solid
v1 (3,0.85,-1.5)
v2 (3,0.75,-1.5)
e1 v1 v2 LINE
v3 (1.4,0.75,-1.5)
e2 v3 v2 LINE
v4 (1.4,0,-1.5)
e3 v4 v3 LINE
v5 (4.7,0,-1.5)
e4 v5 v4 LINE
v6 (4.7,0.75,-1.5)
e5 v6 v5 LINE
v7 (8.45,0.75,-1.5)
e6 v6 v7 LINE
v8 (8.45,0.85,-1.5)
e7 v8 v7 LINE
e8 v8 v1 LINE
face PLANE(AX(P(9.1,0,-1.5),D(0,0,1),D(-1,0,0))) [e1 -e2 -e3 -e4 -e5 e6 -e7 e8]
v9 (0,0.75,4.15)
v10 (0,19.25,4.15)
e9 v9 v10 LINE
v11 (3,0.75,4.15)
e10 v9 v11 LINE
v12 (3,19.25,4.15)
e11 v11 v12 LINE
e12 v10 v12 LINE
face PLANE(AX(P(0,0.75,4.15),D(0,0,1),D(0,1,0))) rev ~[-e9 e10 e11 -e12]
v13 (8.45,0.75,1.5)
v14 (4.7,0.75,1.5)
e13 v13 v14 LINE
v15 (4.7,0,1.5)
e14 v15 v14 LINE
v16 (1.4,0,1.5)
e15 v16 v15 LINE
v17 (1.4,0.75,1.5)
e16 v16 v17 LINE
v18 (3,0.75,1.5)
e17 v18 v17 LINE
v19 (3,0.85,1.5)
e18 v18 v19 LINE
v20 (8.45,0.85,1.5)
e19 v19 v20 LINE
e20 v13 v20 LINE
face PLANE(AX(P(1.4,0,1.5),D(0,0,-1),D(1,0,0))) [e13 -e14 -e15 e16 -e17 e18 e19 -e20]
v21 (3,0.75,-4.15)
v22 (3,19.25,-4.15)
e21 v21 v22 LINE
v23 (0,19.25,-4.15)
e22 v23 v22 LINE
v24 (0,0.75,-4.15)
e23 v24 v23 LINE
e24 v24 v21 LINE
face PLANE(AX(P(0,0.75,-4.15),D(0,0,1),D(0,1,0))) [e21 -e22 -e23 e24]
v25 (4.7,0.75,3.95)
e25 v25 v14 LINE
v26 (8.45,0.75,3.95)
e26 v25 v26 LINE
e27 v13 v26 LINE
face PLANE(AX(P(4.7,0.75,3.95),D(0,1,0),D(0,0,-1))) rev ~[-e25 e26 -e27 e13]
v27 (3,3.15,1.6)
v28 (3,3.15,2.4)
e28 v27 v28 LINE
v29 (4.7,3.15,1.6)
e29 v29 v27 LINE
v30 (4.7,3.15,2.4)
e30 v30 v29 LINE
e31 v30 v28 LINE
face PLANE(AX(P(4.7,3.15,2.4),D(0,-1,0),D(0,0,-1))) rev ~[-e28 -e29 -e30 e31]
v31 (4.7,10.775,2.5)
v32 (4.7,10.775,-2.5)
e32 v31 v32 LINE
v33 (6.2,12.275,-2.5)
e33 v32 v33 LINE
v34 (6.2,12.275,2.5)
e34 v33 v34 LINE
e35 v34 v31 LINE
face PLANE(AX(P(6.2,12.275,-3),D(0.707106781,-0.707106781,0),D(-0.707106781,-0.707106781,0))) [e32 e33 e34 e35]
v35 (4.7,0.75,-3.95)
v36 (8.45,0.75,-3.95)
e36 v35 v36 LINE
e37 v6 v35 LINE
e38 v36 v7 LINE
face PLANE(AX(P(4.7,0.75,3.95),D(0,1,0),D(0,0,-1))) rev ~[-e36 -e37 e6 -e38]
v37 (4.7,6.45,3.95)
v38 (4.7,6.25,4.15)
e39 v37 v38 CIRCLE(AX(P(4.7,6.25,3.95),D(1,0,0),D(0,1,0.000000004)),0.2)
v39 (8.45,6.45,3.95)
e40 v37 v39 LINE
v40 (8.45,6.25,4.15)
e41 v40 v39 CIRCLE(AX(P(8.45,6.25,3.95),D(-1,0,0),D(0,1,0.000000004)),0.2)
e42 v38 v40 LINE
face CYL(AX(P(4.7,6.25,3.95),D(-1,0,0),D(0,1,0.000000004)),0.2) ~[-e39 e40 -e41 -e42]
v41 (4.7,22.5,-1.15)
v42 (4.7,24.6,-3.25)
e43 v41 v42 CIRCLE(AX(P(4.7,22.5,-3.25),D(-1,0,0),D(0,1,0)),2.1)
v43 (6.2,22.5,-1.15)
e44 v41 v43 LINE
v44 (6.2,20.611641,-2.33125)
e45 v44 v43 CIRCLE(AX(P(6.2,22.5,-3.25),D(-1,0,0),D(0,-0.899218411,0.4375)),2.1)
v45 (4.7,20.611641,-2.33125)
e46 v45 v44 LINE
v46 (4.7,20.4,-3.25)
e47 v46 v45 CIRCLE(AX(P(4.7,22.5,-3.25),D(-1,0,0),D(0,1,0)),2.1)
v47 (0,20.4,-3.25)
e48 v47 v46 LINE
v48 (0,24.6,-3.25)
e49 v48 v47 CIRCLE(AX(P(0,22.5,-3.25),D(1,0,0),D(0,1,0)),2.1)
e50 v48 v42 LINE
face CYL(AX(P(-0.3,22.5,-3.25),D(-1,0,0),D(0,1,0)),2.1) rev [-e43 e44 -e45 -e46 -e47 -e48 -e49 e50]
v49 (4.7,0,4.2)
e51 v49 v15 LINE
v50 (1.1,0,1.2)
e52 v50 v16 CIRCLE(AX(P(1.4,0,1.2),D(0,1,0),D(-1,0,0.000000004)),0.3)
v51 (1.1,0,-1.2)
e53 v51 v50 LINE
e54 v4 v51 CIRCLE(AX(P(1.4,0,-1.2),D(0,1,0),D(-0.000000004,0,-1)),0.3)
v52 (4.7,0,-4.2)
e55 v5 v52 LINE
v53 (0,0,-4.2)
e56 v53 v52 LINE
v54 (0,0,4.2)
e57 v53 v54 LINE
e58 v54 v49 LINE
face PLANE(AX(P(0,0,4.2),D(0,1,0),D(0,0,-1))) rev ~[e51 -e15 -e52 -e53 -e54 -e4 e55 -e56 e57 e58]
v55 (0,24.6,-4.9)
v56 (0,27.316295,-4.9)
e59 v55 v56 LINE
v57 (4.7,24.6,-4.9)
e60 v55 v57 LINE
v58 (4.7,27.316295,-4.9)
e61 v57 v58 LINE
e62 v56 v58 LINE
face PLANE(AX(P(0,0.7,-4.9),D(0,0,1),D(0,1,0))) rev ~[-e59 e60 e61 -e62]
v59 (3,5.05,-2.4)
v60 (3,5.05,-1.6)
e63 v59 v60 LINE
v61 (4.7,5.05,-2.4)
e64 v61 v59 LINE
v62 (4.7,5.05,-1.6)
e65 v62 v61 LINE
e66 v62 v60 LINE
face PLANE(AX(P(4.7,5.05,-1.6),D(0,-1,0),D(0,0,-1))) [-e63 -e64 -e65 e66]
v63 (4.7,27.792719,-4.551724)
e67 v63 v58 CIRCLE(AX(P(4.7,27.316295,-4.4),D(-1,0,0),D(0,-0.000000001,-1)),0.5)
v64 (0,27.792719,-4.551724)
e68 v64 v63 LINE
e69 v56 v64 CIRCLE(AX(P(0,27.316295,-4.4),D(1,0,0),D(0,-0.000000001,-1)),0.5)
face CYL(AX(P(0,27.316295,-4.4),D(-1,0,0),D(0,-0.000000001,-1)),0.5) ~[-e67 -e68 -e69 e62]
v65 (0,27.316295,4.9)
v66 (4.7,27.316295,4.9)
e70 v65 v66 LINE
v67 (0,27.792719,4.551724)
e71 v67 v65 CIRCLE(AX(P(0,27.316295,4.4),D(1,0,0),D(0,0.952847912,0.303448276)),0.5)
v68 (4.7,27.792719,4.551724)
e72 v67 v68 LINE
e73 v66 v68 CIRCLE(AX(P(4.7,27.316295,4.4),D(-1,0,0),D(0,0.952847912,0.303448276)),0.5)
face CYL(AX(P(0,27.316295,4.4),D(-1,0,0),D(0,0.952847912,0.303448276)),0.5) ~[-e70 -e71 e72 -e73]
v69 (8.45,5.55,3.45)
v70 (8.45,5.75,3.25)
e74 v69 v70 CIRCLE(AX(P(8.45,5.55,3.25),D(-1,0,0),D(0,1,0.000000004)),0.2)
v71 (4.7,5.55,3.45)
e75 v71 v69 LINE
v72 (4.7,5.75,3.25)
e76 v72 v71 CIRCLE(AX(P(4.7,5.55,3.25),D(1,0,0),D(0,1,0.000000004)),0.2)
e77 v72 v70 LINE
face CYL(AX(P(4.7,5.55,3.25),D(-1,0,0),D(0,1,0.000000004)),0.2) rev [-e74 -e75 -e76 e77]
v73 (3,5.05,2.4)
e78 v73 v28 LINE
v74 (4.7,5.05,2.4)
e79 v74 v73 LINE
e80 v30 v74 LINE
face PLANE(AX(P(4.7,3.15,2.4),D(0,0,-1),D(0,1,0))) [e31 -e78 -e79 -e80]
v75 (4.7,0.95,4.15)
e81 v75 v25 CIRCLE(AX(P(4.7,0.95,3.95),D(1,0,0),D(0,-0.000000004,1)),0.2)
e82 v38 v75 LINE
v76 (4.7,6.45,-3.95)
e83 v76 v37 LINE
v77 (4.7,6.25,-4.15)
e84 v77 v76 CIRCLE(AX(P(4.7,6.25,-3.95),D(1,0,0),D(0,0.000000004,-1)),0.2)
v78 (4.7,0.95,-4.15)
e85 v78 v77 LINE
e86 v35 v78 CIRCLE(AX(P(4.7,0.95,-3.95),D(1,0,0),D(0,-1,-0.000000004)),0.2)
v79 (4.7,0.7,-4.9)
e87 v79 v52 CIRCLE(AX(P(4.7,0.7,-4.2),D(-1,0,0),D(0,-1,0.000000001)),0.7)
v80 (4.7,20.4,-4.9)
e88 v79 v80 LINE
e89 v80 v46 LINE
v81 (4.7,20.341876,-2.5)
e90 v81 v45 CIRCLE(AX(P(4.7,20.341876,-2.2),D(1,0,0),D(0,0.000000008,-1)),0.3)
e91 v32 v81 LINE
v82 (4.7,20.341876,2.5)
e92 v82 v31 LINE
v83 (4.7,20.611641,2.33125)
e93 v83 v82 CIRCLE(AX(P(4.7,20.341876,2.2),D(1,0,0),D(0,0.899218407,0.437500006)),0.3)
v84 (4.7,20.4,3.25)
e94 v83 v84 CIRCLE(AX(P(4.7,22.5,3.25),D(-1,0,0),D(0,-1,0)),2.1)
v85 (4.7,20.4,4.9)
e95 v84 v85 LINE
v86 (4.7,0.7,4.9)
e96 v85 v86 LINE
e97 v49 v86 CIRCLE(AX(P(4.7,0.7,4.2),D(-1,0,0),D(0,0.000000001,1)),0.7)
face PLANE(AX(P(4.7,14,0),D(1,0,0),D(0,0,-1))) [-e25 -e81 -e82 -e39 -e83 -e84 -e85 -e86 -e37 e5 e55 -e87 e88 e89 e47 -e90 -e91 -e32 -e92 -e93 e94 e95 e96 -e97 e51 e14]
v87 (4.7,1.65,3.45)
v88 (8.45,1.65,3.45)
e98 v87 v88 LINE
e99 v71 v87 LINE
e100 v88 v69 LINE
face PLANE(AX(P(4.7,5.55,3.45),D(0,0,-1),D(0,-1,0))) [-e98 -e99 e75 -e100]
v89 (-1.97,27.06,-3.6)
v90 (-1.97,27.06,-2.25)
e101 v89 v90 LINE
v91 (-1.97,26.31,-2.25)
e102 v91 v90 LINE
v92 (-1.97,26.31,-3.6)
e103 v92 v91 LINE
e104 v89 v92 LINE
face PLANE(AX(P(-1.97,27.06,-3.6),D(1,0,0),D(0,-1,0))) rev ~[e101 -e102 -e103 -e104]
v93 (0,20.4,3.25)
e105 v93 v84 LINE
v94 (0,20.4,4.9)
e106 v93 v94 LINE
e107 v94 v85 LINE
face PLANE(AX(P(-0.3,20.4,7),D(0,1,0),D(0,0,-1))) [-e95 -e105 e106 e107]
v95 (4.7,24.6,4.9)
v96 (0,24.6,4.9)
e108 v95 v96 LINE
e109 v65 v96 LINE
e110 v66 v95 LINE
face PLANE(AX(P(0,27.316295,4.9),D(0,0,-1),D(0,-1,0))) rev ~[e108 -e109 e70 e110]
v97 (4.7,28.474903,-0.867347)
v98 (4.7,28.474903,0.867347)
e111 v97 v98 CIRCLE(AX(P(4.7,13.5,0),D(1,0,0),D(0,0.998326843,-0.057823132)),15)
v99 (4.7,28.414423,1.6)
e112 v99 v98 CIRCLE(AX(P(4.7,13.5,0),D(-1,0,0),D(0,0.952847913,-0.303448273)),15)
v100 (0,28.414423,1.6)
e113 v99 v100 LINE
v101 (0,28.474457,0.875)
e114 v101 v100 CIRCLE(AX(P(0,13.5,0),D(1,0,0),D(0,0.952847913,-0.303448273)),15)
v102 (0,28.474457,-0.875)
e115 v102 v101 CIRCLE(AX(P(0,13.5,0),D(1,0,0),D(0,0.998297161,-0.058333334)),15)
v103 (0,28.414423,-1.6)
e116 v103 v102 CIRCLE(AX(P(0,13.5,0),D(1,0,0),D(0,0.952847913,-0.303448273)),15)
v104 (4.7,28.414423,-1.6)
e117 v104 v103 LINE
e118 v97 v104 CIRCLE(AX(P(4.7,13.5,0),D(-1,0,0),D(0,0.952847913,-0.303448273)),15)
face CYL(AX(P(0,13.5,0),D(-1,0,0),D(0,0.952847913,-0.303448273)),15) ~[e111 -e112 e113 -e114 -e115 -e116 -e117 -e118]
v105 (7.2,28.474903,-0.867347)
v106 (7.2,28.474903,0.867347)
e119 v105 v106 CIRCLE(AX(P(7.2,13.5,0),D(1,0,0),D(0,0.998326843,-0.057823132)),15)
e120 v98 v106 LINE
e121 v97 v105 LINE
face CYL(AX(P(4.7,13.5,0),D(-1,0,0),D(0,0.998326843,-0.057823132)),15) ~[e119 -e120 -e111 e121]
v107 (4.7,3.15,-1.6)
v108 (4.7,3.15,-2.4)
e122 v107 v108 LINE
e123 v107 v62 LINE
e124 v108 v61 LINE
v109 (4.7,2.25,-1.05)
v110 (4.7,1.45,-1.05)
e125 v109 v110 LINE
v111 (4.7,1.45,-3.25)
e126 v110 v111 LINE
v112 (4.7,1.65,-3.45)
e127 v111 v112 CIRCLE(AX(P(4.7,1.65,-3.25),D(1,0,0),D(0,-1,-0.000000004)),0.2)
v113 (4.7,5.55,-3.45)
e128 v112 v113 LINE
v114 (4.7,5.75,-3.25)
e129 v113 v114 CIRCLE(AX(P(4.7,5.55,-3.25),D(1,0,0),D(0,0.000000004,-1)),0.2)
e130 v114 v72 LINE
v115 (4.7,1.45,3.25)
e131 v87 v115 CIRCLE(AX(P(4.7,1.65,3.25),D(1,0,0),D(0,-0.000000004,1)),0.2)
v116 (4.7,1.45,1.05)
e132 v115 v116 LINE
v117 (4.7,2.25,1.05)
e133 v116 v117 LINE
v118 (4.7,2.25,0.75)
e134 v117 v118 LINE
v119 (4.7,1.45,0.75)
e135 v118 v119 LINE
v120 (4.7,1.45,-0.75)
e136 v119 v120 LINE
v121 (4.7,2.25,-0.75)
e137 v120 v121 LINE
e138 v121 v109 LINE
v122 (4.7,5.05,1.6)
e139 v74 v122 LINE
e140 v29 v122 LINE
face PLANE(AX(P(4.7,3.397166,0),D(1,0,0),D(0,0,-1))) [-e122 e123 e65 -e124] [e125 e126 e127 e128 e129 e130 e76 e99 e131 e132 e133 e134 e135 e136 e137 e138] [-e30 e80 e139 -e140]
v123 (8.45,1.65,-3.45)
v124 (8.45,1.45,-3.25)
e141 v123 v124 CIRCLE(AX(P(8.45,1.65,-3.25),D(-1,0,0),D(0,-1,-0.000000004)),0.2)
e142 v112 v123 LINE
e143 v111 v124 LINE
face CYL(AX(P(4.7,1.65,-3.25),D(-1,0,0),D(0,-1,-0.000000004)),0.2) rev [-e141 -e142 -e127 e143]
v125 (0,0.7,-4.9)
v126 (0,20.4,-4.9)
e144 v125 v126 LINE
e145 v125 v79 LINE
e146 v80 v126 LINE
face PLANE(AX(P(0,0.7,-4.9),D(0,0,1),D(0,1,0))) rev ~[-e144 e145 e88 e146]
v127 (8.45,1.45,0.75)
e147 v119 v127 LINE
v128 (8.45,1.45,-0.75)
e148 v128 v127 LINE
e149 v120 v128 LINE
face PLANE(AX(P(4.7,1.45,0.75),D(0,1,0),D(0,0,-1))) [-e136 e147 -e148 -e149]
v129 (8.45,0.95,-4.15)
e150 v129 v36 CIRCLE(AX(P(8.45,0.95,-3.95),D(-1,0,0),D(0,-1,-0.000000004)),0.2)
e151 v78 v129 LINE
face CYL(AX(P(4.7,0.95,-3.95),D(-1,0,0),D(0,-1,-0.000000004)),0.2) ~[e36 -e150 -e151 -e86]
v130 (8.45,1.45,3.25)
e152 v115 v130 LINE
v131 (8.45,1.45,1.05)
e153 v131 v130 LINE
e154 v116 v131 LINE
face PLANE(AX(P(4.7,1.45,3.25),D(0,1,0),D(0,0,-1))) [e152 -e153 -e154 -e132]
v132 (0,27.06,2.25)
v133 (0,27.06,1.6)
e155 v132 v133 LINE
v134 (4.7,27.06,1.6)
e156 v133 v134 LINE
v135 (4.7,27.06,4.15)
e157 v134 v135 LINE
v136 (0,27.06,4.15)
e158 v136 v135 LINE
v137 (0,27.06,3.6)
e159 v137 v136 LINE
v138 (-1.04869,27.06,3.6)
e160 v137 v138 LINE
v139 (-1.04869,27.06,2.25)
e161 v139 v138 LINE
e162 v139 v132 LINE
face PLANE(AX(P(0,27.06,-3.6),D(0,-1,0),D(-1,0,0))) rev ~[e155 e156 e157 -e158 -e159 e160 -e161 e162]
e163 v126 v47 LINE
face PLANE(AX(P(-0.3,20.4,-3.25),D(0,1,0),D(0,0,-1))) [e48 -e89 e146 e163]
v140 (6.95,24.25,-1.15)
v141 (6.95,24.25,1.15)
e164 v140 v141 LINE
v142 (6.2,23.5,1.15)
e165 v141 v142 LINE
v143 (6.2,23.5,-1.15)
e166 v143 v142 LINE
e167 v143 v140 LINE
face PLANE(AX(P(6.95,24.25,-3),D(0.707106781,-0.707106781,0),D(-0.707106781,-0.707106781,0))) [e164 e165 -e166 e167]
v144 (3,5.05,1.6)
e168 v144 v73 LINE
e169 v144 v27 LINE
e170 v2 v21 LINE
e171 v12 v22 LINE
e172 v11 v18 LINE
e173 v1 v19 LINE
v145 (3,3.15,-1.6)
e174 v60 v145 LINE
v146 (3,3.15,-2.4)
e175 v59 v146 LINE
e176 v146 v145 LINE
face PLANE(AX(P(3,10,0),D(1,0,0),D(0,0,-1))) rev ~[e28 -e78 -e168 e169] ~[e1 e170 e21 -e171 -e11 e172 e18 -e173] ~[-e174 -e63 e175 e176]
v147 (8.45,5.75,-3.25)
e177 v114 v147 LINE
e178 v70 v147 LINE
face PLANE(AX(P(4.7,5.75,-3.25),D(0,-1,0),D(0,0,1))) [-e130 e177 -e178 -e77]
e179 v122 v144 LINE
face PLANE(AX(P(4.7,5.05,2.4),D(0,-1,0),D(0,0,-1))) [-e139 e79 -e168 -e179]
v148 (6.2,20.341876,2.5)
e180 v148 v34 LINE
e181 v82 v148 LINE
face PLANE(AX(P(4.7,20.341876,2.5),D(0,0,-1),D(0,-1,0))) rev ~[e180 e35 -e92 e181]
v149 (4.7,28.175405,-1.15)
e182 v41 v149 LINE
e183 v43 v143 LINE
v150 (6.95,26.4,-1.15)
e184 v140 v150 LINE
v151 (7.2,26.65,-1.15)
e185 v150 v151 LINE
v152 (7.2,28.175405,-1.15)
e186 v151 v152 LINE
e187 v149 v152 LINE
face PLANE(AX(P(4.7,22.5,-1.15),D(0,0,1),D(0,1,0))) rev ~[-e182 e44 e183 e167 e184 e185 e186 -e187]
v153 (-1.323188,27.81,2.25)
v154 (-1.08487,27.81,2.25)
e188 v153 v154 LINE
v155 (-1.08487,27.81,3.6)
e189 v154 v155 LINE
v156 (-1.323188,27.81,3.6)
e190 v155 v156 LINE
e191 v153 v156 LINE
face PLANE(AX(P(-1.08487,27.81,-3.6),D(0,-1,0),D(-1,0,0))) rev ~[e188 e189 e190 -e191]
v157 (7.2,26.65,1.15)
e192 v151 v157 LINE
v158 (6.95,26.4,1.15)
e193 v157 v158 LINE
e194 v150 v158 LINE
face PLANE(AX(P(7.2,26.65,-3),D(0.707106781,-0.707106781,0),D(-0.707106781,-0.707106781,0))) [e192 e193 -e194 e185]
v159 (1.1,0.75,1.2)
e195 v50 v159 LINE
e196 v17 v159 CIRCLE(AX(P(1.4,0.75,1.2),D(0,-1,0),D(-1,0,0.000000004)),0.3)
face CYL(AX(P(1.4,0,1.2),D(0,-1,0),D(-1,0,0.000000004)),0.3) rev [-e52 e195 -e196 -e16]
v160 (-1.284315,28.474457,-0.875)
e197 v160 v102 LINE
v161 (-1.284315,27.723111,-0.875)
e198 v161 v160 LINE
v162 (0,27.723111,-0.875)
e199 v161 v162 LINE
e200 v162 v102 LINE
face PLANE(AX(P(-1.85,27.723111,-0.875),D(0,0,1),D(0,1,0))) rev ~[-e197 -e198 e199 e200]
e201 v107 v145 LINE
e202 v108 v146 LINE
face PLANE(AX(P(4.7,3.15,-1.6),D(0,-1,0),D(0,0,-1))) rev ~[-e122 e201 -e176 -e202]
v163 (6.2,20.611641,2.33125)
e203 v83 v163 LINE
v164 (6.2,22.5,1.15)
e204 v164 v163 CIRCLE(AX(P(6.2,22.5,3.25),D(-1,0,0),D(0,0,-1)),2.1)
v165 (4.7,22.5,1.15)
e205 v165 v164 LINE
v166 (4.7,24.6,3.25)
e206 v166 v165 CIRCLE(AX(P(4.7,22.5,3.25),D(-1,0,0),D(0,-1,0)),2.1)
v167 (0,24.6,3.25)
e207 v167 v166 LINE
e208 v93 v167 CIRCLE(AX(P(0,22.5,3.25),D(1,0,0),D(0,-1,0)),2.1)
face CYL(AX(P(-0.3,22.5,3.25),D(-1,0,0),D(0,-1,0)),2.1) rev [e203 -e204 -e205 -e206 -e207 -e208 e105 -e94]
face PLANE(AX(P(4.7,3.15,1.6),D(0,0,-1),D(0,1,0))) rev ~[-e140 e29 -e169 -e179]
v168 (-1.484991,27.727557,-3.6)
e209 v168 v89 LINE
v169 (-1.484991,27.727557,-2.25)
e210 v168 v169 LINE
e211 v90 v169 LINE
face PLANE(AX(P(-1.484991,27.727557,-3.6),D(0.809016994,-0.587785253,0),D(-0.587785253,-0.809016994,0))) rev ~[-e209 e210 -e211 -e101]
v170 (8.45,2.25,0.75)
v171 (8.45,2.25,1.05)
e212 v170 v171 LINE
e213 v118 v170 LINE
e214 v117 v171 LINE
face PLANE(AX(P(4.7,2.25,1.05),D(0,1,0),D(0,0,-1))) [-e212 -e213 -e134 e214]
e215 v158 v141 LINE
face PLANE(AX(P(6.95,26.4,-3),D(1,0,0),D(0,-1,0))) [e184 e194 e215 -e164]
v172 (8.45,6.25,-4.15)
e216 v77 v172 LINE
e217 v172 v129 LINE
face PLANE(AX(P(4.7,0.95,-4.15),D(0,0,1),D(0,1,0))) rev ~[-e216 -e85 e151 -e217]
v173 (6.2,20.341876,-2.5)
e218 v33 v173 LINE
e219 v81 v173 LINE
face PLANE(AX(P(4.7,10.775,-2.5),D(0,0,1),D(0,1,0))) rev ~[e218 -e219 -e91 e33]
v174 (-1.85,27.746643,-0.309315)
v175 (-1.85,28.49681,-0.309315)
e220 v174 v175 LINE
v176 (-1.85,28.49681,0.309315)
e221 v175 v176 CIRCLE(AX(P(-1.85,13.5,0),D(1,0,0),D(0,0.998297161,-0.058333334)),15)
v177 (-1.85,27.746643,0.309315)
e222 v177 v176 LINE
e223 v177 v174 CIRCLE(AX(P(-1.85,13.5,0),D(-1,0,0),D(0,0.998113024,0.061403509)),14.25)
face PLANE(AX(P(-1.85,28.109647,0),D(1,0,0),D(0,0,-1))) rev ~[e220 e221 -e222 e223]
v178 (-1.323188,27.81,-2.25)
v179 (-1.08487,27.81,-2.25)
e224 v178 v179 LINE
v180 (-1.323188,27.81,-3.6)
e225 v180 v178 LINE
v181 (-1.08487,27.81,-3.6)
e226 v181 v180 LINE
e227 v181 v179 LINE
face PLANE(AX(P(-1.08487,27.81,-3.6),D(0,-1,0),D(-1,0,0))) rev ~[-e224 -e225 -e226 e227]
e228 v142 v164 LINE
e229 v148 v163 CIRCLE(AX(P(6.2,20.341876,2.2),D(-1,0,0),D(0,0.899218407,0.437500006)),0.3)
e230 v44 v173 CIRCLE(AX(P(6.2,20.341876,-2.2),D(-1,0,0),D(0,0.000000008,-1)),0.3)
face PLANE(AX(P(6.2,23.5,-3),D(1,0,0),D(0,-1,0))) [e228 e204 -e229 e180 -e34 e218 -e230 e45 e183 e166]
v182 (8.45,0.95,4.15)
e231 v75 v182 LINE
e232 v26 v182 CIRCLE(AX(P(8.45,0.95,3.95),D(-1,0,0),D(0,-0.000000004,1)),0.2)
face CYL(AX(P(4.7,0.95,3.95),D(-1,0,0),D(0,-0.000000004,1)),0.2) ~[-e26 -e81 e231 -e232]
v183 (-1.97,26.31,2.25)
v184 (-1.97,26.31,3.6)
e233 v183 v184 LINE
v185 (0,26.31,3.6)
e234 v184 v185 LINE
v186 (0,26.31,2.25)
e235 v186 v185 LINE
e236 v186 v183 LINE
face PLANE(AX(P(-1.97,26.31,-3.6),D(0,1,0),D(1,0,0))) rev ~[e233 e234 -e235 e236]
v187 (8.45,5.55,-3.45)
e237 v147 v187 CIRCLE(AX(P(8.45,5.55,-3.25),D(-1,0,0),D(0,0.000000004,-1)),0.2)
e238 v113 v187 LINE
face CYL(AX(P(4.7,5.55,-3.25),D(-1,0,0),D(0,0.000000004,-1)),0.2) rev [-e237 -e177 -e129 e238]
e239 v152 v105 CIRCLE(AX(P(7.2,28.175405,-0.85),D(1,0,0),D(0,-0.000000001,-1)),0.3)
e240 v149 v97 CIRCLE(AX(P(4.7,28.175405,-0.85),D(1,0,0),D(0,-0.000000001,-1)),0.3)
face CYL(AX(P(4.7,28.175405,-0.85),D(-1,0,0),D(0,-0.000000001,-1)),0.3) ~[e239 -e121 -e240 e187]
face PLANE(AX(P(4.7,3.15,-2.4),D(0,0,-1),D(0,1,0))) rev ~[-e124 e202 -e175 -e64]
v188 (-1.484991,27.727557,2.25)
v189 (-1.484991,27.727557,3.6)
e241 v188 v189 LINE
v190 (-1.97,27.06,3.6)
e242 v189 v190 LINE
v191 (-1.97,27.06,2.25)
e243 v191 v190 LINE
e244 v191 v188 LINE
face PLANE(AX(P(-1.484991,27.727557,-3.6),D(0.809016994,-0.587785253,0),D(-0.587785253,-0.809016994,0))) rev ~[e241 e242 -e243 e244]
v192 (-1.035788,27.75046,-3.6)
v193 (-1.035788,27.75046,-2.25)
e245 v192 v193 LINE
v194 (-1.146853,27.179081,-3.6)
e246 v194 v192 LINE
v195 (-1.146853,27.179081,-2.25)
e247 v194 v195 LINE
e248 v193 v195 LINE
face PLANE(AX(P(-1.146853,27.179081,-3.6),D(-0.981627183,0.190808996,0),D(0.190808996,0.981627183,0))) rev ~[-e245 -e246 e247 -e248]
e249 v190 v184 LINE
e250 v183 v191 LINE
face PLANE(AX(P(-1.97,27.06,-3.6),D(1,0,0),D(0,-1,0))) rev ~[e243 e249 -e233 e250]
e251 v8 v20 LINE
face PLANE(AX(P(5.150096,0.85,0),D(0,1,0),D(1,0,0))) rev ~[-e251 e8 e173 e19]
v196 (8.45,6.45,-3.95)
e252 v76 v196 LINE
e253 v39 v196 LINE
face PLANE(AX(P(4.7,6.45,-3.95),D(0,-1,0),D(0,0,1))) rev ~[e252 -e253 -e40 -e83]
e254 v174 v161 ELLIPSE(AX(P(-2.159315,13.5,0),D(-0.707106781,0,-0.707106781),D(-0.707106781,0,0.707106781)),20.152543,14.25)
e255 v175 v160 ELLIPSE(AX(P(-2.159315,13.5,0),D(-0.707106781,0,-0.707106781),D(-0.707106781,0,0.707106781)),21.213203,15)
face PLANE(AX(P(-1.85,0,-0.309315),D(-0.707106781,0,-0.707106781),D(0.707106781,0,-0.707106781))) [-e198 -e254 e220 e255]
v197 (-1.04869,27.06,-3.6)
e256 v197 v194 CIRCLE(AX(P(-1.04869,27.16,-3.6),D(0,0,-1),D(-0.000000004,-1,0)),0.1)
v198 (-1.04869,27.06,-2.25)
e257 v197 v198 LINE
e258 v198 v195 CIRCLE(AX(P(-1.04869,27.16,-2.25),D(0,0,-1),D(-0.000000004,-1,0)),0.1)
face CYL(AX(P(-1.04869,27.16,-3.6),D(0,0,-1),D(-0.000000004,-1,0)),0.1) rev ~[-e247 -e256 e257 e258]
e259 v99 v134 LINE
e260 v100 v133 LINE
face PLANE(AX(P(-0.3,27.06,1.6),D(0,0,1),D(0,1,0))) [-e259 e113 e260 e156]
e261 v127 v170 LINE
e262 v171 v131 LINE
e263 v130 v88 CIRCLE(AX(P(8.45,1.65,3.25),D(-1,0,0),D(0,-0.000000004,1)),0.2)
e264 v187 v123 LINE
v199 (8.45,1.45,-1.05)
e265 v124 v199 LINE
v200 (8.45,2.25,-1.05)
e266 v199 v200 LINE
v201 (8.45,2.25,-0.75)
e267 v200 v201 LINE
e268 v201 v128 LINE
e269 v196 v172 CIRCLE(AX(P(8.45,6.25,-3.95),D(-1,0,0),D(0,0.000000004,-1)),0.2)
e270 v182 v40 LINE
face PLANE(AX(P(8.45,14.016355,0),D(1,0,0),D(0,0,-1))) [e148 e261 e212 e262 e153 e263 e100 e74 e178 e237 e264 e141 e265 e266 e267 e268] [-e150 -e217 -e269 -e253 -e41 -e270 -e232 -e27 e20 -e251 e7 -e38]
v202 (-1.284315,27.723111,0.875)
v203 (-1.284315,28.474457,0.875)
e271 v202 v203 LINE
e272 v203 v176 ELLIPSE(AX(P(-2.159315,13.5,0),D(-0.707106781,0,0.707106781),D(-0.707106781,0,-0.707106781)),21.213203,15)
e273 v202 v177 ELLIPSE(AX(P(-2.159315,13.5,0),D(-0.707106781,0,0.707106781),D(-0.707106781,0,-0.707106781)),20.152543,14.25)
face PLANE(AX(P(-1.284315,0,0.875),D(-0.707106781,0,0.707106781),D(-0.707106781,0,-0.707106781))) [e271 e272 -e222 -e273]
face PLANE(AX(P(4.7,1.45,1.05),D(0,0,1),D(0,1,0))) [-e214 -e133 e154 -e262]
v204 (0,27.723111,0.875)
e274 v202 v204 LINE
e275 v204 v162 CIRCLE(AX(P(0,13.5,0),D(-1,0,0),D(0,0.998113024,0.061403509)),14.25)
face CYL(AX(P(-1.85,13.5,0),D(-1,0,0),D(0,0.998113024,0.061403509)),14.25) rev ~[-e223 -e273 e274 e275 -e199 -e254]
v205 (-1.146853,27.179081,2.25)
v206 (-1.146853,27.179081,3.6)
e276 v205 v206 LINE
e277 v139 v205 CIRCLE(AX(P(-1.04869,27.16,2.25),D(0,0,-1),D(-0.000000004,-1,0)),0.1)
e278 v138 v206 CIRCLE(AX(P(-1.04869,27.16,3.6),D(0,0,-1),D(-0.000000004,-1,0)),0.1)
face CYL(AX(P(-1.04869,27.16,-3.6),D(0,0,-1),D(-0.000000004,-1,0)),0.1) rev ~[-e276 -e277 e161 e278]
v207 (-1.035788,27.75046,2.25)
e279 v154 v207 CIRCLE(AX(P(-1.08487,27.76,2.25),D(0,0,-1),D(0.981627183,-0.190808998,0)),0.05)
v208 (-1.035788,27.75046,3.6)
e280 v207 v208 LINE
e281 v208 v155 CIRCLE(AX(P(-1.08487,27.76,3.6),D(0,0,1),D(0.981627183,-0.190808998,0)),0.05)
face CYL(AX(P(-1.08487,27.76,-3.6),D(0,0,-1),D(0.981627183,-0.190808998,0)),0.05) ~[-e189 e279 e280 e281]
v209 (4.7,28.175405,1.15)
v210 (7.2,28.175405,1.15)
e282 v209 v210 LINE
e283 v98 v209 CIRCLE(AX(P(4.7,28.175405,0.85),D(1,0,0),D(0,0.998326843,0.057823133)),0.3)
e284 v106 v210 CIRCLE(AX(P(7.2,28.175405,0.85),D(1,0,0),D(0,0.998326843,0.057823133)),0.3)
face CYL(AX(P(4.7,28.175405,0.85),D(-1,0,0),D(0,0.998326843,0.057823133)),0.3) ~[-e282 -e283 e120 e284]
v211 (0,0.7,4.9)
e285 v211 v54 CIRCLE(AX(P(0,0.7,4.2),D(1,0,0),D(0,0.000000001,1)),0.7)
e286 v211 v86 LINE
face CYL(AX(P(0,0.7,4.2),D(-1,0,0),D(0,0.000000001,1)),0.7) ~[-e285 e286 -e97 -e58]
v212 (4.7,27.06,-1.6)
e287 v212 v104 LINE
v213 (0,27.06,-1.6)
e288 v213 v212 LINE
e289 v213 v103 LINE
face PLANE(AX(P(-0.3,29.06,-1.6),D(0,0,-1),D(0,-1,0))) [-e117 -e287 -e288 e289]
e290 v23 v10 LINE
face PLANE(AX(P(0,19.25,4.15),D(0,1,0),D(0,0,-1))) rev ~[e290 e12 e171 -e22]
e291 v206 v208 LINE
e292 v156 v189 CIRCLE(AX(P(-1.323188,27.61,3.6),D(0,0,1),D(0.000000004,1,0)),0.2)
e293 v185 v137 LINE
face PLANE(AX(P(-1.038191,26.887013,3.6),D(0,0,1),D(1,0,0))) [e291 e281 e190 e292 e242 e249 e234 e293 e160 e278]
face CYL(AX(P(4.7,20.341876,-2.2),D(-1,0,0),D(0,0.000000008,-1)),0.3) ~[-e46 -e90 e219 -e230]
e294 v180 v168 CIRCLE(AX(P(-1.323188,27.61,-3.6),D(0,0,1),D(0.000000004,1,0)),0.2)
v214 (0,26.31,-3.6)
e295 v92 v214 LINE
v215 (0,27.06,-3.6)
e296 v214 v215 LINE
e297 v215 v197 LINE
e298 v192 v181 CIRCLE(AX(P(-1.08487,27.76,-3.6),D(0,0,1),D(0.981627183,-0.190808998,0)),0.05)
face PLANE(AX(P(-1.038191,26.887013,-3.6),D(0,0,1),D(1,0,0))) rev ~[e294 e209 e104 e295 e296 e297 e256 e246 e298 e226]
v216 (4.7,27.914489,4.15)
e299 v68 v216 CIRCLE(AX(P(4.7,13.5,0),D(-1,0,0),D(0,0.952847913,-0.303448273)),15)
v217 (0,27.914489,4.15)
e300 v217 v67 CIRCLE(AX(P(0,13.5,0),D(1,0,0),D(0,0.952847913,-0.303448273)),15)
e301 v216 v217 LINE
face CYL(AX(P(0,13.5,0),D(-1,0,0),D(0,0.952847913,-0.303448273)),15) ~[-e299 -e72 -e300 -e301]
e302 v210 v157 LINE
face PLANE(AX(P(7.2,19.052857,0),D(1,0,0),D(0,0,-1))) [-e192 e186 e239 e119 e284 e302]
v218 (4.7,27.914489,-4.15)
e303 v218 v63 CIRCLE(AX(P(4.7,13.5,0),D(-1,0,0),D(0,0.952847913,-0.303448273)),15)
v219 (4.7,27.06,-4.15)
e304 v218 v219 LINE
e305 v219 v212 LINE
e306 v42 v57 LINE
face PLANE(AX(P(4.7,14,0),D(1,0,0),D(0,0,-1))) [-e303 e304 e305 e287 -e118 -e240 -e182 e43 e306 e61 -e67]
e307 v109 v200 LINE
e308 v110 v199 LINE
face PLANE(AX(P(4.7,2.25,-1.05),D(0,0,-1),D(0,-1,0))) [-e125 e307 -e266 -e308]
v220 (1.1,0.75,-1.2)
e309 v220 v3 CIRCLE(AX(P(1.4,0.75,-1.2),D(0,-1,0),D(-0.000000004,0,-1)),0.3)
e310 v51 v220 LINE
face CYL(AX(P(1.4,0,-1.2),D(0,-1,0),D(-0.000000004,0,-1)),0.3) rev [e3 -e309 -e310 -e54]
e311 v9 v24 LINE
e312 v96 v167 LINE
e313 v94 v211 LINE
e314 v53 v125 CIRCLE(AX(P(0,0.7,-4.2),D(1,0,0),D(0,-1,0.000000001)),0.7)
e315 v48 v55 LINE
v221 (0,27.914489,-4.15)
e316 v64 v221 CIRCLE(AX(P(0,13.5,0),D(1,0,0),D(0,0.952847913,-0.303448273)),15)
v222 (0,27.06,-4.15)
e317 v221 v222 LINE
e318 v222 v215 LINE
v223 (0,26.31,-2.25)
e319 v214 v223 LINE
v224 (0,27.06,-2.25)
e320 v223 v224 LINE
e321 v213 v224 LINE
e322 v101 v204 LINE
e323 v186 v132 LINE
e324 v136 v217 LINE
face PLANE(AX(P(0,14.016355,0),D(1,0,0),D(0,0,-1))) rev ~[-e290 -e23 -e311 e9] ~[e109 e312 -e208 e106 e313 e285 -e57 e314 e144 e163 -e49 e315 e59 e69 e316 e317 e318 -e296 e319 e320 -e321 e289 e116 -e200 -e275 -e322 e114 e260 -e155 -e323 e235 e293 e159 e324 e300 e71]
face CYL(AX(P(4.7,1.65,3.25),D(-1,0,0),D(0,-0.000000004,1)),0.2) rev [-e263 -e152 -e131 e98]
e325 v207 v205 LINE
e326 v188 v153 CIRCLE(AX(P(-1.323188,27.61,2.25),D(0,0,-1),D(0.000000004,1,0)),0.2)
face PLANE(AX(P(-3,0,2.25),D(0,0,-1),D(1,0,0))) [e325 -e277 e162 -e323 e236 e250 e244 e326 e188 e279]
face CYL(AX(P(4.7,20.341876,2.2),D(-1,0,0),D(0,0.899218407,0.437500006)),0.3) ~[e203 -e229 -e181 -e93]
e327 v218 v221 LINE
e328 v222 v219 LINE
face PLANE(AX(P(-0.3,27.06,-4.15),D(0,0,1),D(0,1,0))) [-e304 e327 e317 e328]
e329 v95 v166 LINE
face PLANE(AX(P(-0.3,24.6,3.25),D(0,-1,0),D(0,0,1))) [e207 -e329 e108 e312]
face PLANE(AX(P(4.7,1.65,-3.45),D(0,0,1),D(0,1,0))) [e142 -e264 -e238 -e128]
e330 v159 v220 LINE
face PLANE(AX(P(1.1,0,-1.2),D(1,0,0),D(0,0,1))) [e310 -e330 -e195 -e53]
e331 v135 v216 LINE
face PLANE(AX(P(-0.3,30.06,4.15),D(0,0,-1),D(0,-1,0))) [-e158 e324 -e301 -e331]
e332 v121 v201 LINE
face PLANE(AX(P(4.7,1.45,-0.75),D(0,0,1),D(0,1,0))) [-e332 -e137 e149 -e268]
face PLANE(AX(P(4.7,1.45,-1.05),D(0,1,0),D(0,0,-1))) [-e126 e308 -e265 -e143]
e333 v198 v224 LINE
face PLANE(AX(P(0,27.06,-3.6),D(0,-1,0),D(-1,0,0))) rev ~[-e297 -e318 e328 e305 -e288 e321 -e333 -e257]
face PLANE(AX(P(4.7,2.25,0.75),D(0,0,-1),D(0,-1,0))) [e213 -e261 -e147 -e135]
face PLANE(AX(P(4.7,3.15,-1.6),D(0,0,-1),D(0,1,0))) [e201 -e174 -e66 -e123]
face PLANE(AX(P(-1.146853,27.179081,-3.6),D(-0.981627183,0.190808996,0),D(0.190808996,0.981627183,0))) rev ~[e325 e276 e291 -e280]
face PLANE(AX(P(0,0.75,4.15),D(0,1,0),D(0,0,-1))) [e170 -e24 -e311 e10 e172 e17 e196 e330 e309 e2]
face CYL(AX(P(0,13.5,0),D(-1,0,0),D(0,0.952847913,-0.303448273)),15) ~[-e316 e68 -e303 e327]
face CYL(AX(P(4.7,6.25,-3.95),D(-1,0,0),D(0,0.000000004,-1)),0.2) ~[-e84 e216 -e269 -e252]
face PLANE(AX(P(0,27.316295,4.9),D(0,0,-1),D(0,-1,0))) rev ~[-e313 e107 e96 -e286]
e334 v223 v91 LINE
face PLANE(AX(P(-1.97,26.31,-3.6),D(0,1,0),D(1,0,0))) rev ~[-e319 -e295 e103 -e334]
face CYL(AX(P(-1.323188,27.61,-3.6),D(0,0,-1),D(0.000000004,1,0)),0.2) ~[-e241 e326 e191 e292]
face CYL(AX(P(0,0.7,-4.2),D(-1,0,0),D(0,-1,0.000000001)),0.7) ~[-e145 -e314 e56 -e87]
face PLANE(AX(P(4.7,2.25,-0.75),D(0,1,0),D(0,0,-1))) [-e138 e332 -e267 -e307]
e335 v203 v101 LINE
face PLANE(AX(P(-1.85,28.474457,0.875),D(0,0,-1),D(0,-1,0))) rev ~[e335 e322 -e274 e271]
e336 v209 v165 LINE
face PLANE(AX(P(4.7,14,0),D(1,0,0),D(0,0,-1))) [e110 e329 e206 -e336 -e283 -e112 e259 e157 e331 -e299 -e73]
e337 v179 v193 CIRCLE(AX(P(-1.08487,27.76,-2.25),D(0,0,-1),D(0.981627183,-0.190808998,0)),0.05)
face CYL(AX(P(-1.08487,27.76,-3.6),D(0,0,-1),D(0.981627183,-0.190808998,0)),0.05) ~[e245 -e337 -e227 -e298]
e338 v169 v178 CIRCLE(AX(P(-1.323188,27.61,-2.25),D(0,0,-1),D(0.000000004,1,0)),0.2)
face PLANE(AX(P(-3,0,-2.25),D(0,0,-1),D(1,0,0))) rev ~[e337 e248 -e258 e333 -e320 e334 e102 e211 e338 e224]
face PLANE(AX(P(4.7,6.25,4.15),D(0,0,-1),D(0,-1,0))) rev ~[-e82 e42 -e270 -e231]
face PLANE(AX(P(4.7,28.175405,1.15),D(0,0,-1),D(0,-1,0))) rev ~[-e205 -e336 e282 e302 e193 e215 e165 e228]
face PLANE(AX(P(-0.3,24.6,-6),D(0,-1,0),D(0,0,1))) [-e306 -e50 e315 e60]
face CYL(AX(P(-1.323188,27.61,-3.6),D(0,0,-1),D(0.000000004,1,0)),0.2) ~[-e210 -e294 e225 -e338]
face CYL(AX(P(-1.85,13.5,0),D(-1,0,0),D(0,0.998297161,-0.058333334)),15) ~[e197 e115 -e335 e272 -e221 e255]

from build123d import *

# Parameters (mm, degrees)
BOSS_EXTRUDE1_DEPTH      = 8.45
SKETCH2_W                = 12
SKETCH2_H                = 30
CUT_EXTRUDE1_DEPTH       = 8.45
CUT_EXTRUDE2_DEPTH       = 8.45
SKETCH4_W                = 0.8
SKETCH4_H                = 1.9
CUT_EXTRUDE3_DEPTH       = 8.45
SKETCH5_W                = 0.8
SKETCH5_H                = 1.9
CUT_EXTRUDE4_DEPTH       = 8.45
BOSS_EXTRUDE2_DEPTH      = 2.5
CUT_EXTRUDE5_DEPTH       = 3
CUT_EXTRUDE5_DEPTH_BACK  = 3
CUT_EXTRUDE6_DEPTH       = 5
CUT_EXTRUDE6_DEPTH_BACK  = 5
SKETCH9_W                = 8.3
SKETCH9_H                = 18.5
CUT_EXTRUDE7_DEPTH       = 3
BOSS_EXTRUDE3_DEPTH      = 3.6
BOSS_EXTRUDE3_DEPTH_BACK = 3.6
SKETCH11_W               = 3
SKETCH11_H               = 4.5
CUT_EXTRUDE8_DEPTH       = 30
BOSS_EXTRUDE4_START      = -1.85
BOSS_EXTRUDE4_DEPTH      = 1.85
CUT_EXTRUDE9_DEPTH       = 30
CUT_EXTRUDE10_DEPTH      = 0.85


with BuildPart() as part:
    # Sketch1 → Boss-Extrude1 (new body)
    with BuildSketch(Plane(origin=(0, 0, 0), x_dir=(0, 0, -1), z_dir=(1, 0, 0))):
        with BuildLine():
            Line((-4.2, 0), (4.2, 0))
            ThreePointArc((4.2, 0), (4.694974747, 0.205025253), (4.9, 0.7))
            Line((4.9, 0.7), (4.9, 27.316294728))
            ThreePointArc((4.9, 27.316294728), (4.803647153, 27.611369254), (4.551724095, 27.792718697))
            ThreePointArc((4.551724095, 27.792718697), (-2.2e-08, 28.5), (-4.551724138, 27.792718684))
            ThreePointArc((-4.551724138, 27.792718684), (-4.803647166, 27.611369236), (-4.9, 27.316294728))
            Line((-4.9, 27.316294728), (-4.9, 0.7))
            ThreePointArc((-4.9, 0.7), (-4.694974747, 0.205025253), (-4.2, 0))
        make_face()
    extrude(amount=BOSS_EXTRUDE1_DEPTH)

    # Sketch2 → Cut-Extrude1 (cut)
    with BuildSketch(Plane(origin=(4.7, 0, 0), x_dir=(0, 0, -1), z_dir=(1, 0, 0))):
        with Locations((0, 14)):
            Rectangle(SKETCH2_W, SKETCH2_H)
        with BuildLine():
            Line((-4.15, 6.25), (-4.15, 0.95))
            ThreePointArc((-4.15, 0.95), (-4.091421356, 0.808578644), (-3.95, 0.75))
            Line((-3.95, 0.75), (3.95, 0.75))
            ThreePointArc((3.95, 0.75), (4.091421356, 0.808578644), (4.15, 0.95))
            Line((4.15, 0.95), (4.15, 6.25))
            ThreePointArc((4.15, 6.25), (4.091421356, 6.391421356), (3.95, 6.45))
            Line((3.95, 6.45), (-3.95, 6.45))
            ThreePointArc((-3.95, 6.45), (-4.091421356, 6.391421356), (-4.15, 6.25))
        make_face(mode=Mode.SUBTRACT)
    extrude(amount=CUT_EXTRUDE1_DEPTH, mode=Mode.SUBTRACT)

    # Sketch3 → Cut-Extrude2 (cut)
    with BuildSketch(Plane(origin=(4.7, 0, 0), x_dir=(0, 0, -1), z_dir=(1, 0, 0))):
        with BuildLine():
            Line((-3.45, 5.55), (-3.45, 1.65))
            ThreePointArc((-3.45, 1.65), (-3.391421356, 1.508578644), (-3.25, 1.45))
            Line((-3.25, 1.45), (-1.05, 1.45))
            Line((-1.05, 1.45), (-1.05, 2.25))
            Line((-1.05, 2.25), (-0.75, 2.25))
            Line((-0.75, 2.25), (-0.75, 1.45))
            Line((-0.75, 1.45), (0.75, 1.45))
            Line((0.75, 1.45), (0.75, 2.25))
            Line((0.75, 2.25), (1.05, 2.25))
            Line((1.05, 2.25), (1.05, 1.45))
            Line((1.05, 1.45), (3.25, 1.45))
            ThreePointArc((3.25, 1.45), (3.391421356, 1.508578644), (3.45, 1.65))
            Line((3.45, 1.65), (3.45, 5.55))
            ThreePointArc((3.45, 5.55), (3.391421356, 5.691421356), (3.25, 5.75))
            Line((3.25, 5.75), (-3.25, 5.75))
            ThreePointArc((-3.25, 5.75), (-3.391421356, 5.691421356), (-3.45, 5.55))
        make_face()
    extrude(amount=CUT_EXTRUDE2_DEPTH, mode=Mode.SUBTRACT)

    # Sketch4 → Cut-Extrude3 (cut)
    with BuildSketch(Plane(origin=(4.7, 0, 0), x_dir=(0, 0, -1), z_dir=(1, 0, 0))):
        with Locations((2, 4.1)):
            Rectangle(SKETCH4_W, SKETCH4_H)
    extrude(amount=-CUT_EXTRUDE3_DEPTH, mode=Mode.SUBTRACT)

    # Sketch5 → Cut-Extrude4 (cut)
    with BuildSketch(Plane(origin=(4.7, 0, 0), x_dir=(0, 0, -1), z_dir=(1, 0, 0))):
        with Locations((-2, 4.1)):
            Rectangle(SKETCH5_W, SKETCH5_H)
    extrude(amount=-CUT_EXTRUDE4_DEPTH, mode=Mode.SUBTRACT)

    # Sketch6 → Boss-Extrude2 (add)
    with BuildSketch(Plane(origin=(4.7, 0, 0), x_dir=(0, 0, -1), z_dir=(1, 0, 0))):
        with BuildLine():
            Line((-2.5, 20.341875815), (-2.5, 10.775))
            Line((-2.5, 10.775), (2.5, 10.775))
            Line((2.5, 10.775), (2.5, 20.341875815))
            ThreePointArc((2.5, 20.341875815), (2.454337374, 20.50097484), (2.33125, 20.611641338))
            ThreePointArc((2.33125, 20.611641338), (1.469638379, 21.38630682), (1.15, 22.5))
            Line((1.15, 22.5), (1.15, 28.175404594))
            ThreePointArc((1.15, 28.175404594), (1.068178929, 28.381312231), (0.867346966, 28.474902645))
            ThreePointArc((0.867346966, 28.474902645), (1.4e-08, 28.5), (-0.867346939, 28.474902647))
            ThreePointArc((-0.867346939, 28.474902647), (-1.068178919, 28.381312241), (-1.15, 28.175404594))
            Line((-1.15, 28.175404594), (-1.15, 22.5))
            ThreePointArc((-1.15, 22.5), (-1.469638379, 21.38630682), (-2.33125, 20.611641338))
            ThreePointArc((-2.33125, 20.611641338), (-2.454337374, 20.50097484), (-2.5, 20.341875815))
        make_face()
    extrude(amount=BOSS_EXTRUDE2_DEPTH)

    # Sketch7 → Cut-Extrude5 (cut, two sides: drawn at the far end of the back side and taken through both)
    with BuildSketch(Plane.XY.offset(-CUT_EXTRUDE5_DEPTH_BACK)):
        Polygon((4.7, 10.775), (12.2, 10.775), (12.2, 30.775), (7.2, 30.775), (7.2, 26.65), (6.95, 26.4), (6.95, 24.25), (6.2, 23.5), (6.2, 12.275), align=None)
    extrude(amount=CUT_EXTRUDE5_DEPTH + CUT_EXTRUDE5_DEPTH_BACK, mode=Mode.SUBTRACT)

    # Sketch8 → Cut-Extrude6 (cut, two sides: drawn at the far end of the back side and taken through both)
    with BuildSketch(Plane(origin=(4.7, 0, 0), x_dir=(0, 0, -1), z_dir=(1, 0, 0)).offset(-CUT_EXTRUDE6_DEPTH_BACK)):
        with BuildLine():
            Line((-7, 20.4), (-3.25, 20.4))
            ThreePointArc((-3.25, 20.4), (-1.15, 22.5), (-3.25, 24.6))
            Line((-3.25, 24.6), (-6, 24.6))
            Line((-6, 24.6), (-6, 30.06))
            Line((-6, 30.06), (-4.15, 30.06))
            Line((-4.15, 30.06), (-4.15, 27.06))
            Line((-4.15, 27.06), (-1.6, 27.06))
            Line((-1.6, 27.06), (-1.6, 29.06))
            Line((-1.6, 29.06), (1.6, 29.06))
            Line((1.6, 29.06), (1.6, 27.06))
            Line((1.6, 27.06), (4.15, 27.06))
            Line((4.15, 27.06), (4.15, 30.06))
            Line((4.15, 30.06), (6, 30.06))
            Line((6, 30.06), (6, 24.6))
            Line((6, 24.6), (3.25, 24.6))
            ThreePointArc((3.25, 24.6), (1.15, 22.5), (3.25, 20.4))
            Line((3.25, 20.4), (7, 20.4))
            Line((7, 20.4), (7, 31.06))
            Line((7, 31.06), (-7, 31.06))
            Line((-7, 31.06), (-7, 20.4))
        make_face()
    extrude(amount=CUT_EXTRUDE6_DEPTH + CUT_EXTRUDE6_DEPTH_BACK, mode=Mode.SUBTRACT)

    # Sketch9 → Cut-Extrude7 (cut)
    with BuildSketch(Plane(origin=(0, 0, 0), x_dir=(0, 0, -1), z_dir=(1, 0, 0))):
        with Locations((0, 10)):
            Rectangle(SKETCH9_W, SKETCH9_H)
    extrude(amount=CUT_EXTRUDE7_DEPTH, mode=Mode.SUBTRACT)

    # Sketch10 → Boss-Extrude3 (add, two sides: drawn at the far end of the back side and taken through both)
    with BuildSketch(Plane.XY.offset(-BOSS_EXTRUDE3_DEPTH_BACK)):
        with BuildLine():
            Line((-1.97, 27.06), (-1.97, 26.31))
            Line((-1.97, 26.31), (0, 26.31))
            Line((0, 26.31), (0, 27.06))
            Line((0, 27.06), (-1.0486903, 27.06))
            ThreePointArc((-1.0486903, 27.06), (-1.125852758, 27.096392178), (-1.146853018, 27.1790809))
            Line((-1.146853018, 27.1790809), (-1.035788259, 27.75045955))
            ThreePointArc((-1.035788259, 27.75045955), (-1.046288389, 27.791803911), (-1.084869618, 27.81))
            Line((-1.084869618, 27.81), (-1.323188014, 27.81))
            ThreePointArc((-1.323188014, 27.81), (-1.413986114, 27.788201305), (-1.484991413, 27.72755705))
            Line((-1.484991413, 27.72755705), (-1.97, 27.06))
        make_face()
    extrude(amount=BOSS_EXTRUDE3_DEPTH + BOSS_EXTRUDE3_DEPTH_BACK)

    # Sketch11 → Cut-Extrude8 (cut)
    with BuildSketch(Plane(origin=(0, 0, 0), x_dir=(1, 0, 0), z_dir=(0, 1, 0))):
        with Locations((-1.5, 0)):
            Rectangle(SKETCH11_W, SKETCH11_H)
    extrude(amount=CUT_EXTRUDE8_DEPTH, mode=Mode.SUBTRACT)

    # Sketch12 → Boss-Extrude4 (add)
    with BuildSketch(Plane(origin=(0, 0, 0), x_dir=(0, 0, -1), z_dir=(1, 0, 0)).offset(BOSS_EXTRUDE4_START)):
        with BuildLine():
            Line((-0.875, 28.474457419), (-0.875, 27.723110595))
            ThreePointArc((-0.875, 27.723110595), (0, 27.75), (0.875, 27.723110595))
            Line((0.875, 27.723110595), (0.875, 28.474457419))
            ThreePointArc((0.875, 28.474457419), (0, 28.5), (-0.875, 28.474457419))
        make_face()
    extrude(amount=BOSS_EXTRUDE4_DEPTH)

    # Sketch13 → Cut-Extrude9 (cut)
    with BuildSketch(Plane(origin=(0, 0, 0), x_dir=(1, 0, 0), z_dir=(0, 1, 0))):
        Polygon((-3.85, -0.875), (-1.284314575, -0.875), (-1.85, -0.309314575), (-1.85, 0.309314575), (-1.284314575, 0.875), (-3.85, 0.875), align=None)
    extrude(amount=CUT_EXTRUDE9_DEPTH, mode=Mode.SUBTRACT)

    # Sketch14 → Cut-Extrude10 (cut)
    with BuildSketch(Plane(origin=(0, 0, 0), x_dir=(1, 0, 0), z_dir=(0, 1, 0))):
        with BuildLine():
            Line((1.1, 1.2), (1.1, -1.2))
            ThreePointArc((1.1, -1.2), (1.187867966, -1.412132034), (1.4, -1.5))
            Line((1.4, -1.5), (9.1, -1.5))
            Line((9.1, -1.5), (9.1, 1.5))
            Line((9.1, 1.5), (1.4, 1.5))
            ThreePointArc((1.4, 1.5), (1.187867966, 1.412132034), (1.1, 1.2))
        make_face()
    extrude(amount=CUT_EXTRUDE10_DEPTH, mode=Mode.SUBTRACT)


solid = part.part
